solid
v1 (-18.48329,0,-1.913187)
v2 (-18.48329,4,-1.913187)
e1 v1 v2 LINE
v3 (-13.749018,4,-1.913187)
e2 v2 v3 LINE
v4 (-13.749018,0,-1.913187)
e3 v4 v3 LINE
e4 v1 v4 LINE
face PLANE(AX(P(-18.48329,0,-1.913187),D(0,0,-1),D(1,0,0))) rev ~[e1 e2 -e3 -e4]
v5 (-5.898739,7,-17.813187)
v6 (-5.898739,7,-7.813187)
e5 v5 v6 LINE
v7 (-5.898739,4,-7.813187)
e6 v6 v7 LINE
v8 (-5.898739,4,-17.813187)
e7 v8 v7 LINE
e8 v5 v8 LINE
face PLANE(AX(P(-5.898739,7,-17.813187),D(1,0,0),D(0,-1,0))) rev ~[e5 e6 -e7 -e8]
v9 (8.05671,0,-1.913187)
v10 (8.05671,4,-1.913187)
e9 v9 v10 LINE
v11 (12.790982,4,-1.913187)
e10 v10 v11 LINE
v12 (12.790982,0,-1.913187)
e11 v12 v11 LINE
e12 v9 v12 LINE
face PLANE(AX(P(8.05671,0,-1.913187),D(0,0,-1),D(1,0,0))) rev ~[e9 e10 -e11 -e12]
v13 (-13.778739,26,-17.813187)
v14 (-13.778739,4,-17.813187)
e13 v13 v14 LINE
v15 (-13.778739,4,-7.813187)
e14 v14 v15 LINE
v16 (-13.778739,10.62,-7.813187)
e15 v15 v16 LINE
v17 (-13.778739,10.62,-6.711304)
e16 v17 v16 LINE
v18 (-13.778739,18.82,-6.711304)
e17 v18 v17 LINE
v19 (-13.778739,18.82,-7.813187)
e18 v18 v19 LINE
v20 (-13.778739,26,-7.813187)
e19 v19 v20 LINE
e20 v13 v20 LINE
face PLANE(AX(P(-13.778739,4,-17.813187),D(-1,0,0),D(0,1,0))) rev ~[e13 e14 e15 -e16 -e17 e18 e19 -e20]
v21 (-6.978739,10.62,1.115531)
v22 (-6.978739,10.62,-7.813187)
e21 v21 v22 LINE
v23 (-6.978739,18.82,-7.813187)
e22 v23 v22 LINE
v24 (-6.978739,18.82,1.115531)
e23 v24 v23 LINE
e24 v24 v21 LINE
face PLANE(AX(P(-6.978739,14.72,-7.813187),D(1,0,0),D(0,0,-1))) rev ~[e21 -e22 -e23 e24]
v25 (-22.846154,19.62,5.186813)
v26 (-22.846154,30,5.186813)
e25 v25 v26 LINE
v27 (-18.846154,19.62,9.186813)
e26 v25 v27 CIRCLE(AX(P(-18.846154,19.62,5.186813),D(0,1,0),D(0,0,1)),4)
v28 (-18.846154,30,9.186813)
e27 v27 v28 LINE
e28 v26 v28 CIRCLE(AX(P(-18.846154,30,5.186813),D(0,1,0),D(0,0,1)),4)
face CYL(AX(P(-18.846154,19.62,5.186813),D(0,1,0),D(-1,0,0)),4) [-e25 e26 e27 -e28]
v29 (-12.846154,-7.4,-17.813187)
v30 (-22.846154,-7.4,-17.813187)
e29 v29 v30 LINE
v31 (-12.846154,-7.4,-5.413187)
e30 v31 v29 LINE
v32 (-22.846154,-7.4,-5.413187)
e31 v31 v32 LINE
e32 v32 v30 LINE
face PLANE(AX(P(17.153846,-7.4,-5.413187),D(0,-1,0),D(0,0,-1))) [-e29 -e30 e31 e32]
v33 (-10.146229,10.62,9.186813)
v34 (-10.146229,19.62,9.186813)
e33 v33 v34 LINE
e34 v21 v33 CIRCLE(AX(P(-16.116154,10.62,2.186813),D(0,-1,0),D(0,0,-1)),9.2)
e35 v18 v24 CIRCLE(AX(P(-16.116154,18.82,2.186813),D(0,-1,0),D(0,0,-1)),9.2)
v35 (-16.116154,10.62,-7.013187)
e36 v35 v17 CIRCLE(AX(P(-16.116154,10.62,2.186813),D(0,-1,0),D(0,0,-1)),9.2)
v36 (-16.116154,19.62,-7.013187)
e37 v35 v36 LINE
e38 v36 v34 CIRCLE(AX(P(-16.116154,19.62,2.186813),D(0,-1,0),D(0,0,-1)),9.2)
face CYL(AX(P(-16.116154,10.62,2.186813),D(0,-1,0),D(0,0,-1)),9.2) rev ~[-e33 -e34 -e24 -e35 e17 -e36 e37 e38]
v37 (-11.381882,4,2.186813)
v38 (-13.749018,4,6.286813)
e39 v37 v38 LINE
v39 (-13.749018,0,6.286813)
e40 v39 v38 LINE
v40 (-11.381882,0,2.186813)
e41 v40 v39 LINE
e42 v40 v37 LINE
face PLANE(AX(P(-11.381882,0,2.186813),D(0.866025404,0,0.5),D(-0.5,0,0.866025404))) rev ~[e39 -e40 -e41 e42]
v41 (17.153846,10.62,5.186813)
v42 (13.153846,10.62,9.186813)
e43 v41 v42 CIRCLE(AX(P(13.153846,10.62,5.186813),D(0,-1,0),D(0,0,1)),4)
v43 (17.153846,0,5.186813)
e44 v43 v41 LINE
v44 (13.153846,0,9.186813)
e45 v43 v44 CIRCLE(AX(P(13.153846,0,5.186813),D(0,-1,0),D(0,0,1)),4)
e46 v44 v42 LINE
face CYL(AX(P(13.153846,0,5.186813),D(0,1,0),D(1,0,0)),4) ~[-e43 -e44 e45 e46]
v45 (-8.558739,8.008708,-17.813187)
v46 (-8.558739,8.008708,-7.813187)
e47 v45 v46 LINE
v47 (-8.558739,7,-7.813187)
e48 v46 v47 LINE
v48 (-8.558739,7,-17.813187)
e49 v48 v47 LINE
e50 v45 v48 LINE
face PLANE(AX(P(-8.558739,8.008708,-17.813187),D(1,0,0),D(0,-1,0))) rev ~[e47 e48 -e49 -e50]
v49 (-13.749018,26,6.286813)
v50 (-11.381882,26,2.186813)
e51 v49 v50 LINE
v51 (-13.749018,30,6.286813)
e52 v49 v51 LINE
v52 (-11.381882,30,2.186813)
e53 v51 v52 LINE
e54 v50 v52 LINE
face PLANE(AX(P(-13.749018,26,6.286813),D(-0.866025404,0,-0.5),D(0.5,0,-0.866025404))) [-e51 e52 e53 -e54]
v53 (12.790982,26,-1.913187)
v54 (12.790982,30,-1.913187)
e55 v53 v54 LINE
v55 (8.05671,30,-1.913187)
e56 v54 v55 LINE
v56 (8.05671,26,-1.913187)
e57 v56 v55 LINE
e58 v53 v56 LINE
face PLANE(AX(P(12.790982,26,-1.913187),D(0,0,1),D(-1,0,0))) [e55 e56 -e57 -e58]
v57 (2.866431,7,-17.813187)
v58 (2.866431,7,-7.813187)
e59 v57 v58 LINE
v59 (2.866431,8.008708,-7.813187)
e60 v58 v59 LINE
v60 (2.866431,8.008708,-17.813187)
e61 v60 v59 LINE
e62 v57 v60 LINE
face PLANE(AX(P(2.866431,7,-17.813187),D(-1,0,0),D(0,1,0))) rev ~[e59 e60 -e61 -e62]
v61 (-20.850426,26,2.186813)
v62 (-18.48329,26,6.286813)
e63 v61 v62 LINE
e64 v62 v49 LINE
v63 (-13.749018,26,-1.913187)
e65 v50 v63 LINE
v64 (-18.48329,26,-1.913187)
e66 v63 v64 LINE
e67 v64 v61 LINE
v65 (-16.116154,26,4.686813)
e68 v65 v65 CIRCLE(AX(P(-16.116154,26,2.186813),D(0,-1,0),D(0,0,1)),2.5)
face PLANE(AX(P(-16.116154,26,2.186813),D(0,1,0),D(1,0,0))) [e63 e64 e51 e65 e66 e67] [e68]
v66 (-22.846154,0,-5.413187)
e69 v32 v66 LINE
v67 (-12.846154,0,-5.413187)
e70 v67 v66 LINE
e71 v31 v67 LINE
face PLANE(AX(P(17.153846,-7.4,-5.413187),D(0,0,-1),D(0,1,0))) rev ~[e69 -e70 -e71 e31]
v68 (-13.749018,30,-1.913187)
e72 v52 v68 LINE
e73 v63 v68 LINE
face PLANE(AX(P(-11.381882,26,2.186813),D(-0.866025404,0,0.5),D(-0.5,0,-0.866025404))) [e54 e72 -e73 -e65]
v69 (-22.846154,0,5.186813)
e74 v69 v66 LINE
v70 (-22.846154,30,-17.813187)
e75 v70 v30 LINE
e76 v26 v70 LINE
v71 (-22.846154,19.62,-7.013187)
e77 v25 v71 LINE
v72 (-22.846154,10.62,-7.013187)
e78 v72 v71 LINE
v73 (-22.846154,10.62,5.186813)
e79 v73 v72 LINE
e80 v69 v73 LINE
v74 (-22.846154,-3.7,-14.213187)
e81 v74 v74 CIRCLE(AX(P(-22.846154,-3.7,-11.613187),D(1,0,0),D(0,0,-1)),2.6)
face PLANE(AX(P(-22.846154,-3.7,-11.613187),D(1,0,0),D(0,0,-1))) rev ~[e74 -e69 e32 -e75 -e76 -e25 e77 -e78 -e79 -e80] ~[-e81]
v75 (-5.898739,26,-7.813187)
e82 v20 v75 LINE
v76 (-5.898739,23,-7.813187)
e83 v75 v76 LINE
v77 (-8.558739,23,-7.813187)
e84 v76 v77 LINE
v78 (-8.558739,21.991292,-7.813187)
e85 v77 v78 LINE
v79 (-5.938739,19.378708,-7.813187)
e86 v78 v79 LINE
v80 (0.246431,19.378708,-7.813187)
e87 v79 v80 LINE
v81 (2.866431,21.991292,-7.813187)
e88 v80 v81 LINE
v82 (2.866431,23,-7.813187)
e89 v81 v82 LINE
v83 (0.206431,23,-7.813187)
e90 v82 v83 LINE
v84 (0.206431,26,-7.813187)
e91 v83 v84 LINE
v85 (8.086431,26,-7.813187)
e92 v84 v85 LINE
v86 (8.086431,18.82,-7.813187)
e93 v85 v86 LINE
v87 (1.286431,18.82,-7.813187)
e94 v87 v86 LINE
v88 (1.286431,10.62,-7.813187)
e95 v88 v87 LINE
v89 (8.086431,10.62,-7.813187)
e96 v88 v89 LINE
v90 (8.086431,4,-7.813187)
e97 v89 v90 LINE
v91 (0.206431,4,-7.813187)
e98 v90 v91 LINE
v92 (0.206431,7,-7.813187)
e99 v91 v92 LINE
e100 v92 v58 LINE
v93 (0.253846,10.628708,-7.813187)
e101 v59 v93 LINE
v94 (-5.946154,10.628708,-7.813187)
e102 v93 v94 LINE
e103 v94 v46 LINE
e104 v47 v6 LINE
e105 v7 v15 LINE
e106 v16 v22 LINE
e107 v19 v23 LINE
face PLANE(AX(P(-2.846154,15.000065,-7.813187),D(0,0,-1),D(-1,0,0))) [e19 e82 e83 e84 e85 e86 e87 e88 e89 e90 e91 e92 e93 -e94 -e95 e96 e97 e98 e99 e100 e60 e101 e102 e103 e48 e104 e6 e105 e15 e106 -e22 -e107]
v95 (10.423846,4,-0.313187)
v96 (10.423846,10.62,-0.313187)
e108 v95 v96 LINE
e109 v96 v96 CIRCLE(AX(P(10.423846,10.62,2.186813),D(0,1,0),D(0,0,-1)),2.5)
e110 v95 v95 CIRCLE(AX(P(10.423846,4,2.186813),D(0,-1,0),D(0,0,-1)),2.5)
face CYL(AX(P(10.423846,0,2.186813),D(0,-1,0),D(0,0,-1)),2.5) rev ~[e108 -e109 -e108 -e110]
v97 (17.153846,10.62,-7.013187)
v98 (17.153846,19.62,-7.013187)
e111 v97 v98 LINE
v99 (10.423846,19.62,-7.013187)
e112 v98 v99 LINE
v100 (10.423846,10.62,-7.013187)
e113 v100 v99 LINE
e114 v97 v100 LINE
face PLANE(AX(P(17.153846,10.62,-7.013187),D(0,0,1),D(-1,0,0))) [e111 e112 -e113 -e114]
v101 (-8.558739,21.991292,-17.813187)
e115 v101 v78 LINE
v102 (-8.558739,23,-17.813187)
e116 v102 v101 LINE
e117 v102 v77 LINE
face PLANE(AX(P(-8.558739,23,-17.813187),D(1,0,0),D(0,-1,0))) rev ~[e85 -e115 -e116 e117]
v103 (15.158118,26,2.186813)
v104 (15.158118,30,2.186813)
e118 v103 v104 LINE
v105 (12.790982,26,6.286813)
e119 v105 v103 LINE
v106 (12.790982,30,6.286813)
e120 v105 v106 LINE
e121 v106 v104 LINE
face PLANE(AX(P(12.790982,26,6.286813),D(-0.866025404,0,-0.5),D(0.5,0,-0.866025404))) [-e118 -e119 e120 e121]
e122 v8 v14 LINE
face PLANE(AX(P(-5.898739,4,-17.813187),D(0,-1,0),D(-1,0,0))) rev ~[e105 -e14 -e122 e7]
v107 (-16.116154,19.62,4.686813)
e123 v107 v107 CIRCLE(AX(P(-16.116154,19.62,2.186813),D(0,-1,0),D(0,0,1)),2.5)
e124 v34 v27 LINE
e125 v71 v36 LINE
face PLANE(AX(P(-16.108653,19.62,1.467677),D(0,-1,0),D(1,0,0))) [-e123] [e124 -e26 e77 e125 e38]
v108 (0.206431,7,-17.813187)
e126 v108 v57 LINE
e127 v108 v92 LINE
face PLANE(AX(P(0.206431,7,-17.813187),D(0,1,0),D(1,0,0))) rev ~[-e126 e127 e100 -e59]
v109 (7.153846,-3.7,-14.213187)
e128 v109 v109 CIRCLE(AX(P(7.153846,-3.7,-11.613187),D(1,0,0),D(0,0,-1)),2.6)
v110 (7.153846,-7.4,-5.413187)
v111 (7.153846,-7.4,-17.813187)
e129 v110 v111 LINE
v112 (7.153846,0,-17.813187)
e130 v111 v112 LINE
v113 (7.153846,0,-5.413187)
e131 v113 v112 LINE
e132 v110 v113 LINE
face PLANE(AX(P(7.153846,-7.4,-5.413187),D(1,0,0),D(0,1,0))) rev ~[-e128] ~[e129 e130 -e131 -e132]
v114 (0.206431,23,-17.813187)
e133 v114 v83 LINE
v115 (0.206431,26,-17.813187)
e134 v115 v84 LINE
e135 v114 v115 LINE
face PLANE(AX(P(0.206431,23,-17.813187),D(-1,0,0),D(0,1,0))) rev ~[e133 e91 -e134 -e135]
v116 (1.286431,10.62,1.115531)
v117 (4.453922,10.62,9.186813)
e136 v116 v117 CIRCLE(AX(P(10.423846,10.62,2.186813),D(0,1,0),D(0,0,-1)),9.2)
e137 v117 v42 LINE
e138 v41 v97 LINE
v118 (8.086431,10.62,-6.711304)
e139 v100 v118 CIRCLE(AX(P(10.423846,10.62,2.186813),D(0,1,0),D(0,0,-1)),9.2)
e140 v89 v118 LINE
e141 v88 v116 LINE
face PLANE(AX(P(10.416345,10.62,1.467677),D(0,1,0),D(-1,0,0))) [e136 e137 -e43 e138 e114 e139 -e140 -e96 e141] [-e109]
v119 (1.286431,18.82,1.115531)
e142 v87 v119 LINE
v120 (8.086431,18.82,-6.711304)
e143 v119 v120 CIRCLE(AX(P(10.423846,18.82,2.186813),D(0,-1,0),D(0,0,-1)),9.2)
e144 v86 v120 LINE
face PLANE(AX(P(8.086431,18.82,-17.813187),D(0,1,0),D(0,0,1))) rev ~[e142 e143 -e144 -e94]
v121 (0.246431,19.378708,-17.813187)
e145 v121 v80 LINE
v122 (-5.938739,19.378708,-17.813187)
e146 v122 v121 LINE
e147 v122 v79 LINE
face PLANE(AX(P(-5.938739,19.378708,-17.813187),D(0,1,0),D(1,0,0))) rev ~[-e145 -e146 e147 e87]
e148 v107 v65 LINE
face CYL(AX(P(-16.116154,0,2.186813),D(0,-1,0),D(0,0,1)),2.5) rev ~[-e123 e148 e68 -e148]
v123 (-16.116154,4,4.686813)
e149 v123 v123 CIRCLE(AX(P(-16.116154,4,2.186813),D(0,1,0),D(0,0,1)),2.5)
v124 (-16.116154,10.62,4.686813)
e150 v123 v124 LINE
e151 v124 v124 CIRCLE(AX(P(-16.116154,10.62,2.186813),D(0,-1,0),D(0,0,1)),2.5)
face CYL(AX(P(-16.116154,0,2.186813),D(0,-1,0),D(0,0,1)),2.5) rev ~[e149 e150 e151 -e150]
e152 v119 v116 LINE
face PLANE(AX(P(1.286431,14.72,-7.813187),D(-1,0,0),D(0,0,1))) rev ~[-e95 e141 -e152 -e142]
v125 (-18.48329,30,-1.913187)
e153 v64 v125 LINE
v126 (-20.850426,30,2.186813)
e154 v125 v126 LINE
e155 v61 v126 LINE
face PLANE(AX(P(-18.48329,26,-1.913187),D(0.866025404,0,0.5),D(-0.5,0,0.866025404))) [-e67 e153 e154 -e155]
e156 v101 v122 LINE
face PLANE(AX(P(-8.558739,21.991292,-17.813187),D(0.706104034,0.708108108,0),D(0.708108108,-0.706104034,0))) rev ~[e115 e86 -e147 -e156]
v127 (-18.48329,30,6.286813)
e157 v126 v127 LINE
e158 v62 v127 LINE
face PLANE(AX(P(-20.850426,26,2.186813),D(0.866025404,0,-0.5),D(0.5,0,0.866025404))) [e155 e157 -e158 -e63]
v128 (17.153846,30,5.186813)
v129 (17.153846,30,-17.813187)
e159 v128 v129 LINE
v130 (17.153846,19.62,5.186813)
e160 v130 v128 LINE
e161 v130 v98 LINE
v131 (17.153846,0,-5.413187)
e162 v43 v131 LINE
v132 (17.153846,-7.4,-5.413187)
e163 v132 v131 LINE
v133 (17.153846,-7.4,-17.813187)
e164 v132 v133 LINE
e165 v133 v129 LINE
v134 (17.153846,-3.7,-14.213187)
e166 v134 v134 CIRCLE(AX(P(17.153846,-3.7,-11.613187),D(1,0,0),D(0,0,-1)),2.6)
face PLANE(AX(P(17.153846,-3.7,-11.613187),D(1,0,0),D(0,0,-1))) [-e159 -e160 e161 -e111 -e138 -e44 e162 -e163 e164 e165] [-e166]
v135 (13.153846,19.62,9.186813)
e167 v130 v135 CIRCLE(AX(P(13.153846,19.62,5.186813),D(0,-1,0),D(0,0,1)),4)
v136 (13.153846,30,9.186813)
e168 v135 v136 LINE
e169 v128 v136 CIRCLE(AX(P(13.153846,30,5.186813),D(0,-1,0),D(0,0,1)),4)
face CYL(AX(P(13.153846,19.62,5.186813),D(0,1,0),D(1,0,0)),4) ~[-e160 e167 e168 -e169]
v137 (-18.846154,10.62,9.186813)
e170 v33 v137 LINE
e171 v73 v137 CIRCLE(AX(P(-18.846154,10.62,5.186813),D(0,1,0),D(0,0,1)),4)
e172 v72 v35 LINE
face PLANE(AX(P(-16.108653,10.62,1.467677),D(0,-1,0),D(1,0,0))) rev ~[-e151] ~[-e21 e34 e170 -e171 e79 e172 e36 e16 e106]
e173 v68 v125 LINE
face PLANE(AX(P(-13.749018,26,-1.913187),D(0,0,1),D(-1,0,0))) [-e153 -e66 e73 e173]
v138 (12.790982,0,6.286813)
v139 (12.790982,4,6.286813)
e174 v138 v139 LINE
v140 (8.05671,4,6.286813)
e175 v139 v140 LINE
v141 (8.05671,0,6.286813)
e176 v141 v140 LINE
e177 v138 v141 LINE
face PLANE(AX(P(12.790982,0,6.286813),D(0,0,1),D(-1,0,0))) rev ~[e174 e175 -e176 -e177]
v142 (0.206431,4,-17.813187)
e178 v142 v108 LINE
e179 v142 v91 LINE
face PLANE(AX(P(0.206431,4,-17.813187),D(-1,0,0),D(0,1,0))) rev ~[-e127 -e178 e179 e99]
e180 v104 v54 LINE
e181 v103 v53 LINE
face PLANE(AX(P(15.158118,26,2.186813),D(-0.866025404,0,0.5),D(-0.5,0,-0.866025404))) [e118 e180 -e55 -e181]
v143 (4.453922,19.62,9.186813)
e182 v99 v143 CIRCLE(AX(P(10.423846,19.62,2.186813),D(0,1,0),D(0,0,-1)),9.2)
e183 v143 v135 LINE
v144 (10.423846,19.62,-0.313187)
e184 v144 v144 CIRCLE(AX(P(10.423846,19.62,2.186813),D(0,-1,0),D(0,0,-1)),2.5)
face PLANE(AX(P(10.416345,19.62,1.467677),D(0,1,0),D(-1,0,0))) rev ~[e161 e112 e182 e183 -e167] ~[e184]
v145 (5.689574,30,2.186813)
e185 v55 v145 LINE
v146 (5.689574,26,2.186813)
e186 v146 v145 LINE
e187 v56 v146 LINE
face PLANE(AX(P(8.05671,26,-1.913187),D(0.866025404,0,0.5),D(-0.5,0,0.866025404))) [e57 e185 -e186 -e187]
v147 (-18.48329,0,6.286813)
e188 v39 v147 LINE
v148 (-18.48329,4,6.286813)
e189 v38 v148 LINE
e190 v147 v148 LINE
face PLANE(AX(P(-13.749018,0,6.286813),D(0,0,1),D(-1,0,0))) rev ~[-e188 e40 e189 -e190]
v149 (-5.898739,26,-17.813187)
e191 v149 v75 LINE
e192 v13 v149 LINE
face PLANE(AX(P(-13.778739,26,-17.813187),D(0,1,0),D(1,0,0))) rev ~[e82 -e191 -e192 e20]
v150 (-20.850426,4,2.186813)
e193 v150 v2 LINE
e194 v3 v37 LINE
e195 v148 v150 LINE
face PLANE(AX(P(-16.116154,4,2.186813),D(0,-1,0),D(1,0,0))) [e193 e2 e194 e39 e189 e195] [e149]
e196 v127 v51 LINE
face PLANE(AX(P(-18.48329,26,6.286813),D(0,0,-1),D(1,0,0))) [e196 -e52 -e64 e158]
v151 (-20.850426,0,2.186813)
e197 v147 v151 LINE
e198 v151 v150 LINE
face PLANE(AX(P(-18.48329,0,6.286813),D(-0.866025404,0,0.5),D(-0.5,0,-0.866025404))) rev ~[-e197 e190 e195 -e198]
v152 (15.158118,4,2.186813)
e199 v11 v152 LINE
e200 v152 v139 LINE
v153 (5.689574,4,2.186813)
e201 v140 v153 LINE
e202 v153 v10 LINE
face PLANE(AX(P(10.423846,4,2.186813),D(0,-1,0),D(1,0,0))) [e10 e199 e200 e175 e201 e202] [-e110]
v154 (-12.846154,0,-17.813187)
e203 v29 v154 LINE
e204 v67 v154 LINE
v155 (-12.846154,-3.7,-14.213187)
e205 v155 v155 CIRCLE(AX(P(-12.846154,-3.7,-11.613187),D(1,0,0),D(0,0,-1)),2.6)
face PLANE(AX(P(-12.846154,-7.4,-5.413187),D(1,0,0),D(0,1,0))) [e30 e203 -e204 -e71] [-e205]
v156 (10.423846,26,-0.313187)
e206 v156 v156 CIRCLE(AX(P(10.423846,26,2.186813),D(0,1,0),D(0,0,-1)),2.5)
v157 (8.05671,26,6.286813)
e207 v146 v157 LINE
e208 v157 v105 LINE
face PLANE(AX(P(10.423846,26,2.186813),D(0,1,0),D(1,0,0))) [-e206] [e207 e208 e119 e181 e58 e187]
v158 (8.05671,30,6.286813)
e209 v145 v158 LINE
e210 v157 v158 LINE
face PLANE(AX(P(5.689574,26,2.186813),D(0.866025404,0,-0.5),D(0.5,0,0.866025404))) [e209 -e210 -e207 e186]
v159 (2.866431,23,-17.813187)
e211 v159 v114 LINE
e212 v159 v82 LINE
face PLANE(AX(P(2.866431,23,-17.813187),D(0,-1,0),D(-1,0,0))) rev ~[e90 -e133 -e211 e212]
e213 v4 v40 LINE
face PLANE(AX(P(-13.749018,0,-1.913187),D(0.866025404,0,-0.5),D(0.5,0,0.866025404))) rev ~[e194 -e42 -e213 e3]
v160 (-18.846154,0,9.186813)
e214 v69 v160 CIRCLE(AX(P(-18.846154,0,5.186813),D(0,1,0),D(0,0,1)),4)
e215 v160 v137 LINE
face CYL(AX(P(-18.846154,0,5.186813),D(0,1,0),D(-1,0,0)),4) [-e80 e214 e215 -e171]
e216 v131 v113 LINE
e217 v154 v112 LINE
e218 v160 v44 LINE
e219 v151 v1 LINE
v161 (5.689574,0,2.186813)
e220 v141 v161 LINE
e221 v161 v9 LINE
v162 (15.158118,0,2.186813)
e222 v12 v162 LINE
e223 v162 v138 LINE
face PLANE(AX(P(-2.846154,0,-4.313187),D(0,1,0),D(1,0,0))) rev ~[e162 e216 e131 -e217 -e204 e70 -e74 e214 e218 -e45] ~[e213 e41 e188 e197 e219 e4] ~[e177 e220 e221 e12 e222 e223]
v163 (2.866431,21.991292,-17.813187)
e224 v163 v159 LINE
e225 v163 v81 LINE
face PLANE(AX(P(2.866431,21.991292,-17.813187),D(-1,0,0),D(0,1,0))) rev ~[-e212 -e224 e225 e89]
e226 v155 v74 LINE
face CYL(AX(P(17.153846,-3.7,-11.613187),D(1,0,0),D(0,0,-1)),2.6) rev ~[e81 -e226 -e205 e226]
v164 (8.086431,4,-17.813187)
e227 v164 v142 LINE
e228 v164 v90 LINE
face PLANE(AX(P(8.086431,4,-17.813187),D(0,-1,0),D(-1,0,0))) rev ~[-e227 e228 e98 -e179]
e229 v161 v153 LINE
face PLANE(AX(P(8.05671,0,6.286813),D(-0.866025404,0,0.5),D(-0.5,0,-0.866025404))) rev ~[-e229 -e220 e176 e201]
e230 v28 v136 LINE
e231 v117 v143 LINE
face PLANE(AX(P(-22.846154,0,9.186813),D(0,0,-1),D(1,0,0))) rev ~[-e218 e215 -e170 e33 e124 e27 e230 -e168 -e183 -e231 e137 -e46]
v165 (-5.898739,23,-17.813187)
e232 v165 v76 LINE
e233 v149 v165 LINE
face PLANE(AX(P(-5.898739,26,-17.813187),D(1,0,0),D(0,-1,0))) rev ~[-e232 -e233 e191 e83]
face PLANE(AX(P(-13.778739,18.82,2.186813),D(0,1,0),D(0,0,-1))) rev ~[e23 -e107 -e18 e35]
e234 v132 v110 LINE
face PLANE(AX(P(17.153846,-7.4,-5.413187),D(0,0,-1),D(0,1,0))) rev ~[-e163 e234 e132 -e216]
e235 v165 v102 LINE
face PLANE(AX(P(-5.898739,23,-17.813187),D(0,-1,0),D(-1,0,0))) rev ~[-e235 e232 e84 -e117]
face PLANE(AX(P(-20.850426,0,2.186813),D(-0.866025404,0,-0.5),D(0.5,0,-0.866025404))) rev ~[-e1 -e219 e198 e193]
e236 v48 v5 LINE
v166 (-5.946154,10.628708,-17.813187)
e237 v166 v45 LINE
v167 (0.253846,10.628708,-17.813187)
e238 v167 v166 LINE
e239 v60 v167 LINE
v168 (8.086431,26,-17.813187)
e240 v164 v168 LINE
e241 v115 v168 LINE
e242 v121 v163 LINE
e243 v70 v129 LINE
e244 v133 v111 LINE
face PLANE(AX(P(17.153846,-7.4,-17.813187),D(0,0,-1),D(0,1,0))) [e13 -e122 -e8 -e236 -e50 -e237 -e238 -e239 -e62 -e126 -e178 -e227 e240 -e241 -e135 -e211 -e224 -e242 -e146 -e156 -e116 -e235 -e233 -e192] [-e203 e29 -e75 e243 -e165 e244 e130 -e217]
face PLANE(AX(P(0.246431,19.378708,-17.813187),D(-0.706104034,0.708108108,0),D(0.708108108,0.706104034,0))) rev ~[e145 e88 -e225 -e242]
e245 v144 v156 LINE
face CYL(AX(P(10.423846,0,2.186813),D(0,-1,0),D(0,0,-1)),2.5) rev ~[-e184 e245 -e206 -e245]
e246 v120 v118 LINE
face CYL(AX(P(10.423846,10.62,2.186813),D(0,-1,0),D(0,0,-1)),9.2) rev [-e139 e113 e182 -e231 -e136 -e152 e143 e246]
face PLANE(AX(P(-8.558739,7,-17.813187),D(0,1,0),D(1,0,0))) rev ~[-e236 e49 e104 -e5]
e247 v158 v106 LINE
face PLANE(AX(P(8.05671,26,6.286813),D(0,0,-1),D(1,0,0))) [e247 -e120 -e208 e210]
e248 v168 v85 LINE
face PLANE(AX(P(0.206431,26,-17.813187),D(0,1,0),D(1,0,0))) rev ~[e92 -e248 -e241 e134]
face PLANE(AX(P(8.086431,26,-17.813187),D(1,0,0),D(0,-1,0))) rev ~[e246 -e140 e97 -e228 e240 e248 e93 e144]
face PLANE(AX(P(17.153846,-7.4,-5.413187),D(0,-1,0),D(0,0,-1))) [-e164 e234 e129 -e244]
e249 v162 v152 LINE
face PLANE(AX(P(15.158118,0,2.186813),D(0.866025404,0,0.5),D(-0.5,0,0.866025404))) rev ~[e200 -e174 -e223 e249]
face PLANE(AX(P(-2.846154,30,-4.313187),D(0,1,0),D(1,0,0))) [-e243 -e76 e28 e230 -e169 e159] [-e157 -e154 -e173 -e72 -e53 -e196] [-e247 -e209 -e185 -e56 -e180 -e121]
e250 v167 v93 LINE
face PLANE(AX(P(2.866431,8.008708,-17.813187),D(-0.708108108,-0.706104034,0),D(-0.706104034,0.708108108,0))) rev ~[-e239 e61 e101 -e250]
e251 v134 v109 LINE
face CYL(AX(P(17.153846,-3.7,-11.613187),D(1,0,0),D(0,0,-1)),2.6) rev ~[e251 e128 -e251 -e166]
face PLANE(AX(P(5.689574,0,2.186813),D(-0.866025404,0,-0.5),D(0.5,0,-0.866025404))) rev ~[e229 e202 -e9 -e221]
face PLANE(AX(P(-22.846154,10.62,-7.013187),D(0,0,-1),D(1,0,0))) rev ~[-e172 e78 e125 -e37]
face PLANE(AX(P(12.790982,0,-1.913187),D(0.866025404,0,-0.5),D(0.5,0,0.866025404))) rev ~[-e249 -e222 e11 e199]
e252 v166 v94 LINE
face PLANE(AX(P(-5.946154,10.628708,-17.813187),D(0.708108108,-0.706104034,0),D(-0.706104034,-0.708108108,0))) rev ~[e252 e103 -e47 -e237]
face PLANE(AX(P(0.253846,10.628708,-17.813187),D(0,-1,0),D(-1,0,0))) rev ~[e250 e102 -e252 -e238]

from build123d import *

# Parameters (mm, degrees)
SKETCH1_W           = 40
SKETCH1_H           = 27
BOSS_EXTRUDE1_DEPTH = 30
CUT_EXTRUDE1_DEPTH  = 10
SKETCH3_R           = 2.5
CUT_EXTRUDE2_DEPTH  = 30
CUT_EXTRUDE5_START  = -10.62
CUT_EXTRUDE5_DEPTH  = 9
SKETCH10_W          = 20
SKETCH10_H          = 8.2
CUT_EXTRUDE7_DEPTH  = 6.8
SKETCH12_W          = 20
SKETCH12_H          = 8.2
CUT_EXTRUDE10_DEPTH = 6.8
FILLET1_R           = 4
SKETCH13_W          = 12.4
SKETCH13_H          = 7.4
SKETCH13_R          = 2.6
BOSS_EXTRUDE2_DEPTH = 40
CUT_EXTRUDE11_REACH = 42.436
SKETCH14_W          = 20
SKETCH14_H          = 7.4
CUT_EXTRUDE12_START = -4
SKETCH15_R          = 2.5
CUT_EXTRUDE12_DEPTH = 4
SKETCH16_R          = 2.5
CUT_EXTRUDE13_DEPTH = 4


with BuildPart() as part:
    # Sketch1 → Boss-Extrude1 (new body)
    with BuildSketch(Plane(origin=(0, 0, 0), x_dir=(1, 0, 0), z_dir=(0, 1, 0))):
        with Locations((-2.846153846, 4.313186813)):
            Rectangle(SKETCH1_W, SKETCH1_H)
    extrude(amount=BOSS_EXTRUDE1_DEPTH)

    # Sketch2 → Cut-Extrude1 (cut)
    with BuildSketch(Plane(origin=(0, 0, -17.813186813), x_dir=(-1, 0, 0), z_dir=(0, 0, -1))):
        Polygon((-8.086431081, 26), (-8.086431081, 4), (-0.206431081, 4), (-0.206431081, 7), (-2.866431081, 7), (-2.866431081, 8.008707537), (-0.253846154, 10.628707537), (5.946153846, 10.628707537), (8.558738773, 8.008707537), (8.558738773, 7), (5.898738773, 7), (5.898738773, 4), (13.778738773, 4), (13.778738773, 26), (5.898738773, 26), (5.898738773, 23), (8.558738773, 23), (8.558738773, 21.991292463), (5.938738773, 19.378707537), (-0.246431081, 19.378707537), (-2.866431081, 21.991292463), (-2.866431081, 23), (-0.206431081, 23), (-0.206431081, 26), align=None)
    extrude(amount=-CUT_EXTRUDE1_DEPTH, mode=Mode.SUBTRACT)

    # Sketch3 → Cut-Extrude2 (cut)
    with BuildSketch(Plane.XZ):
        with Locations(Location((10.423846154, 2.186813187, 0), (0, 0, 270))):
            Circle(SKETCH3_R)
        with Locations(Location((-16.116153846, 2.186813187, 0), (0, 0, 90))):
            Circle(SKETCH3_R)
    extrude(amount=-CUT_EXTRUDE2_DEPTH, mode=Mode.SUBTRACT)

    # Sketch8 → Cut-Extrude5 (cut)
    with BuildSketch(Plane.XZ.offset(CUT_EXTRUDE5_START)):
        with BuildLine():
            Line((4.453921531, 9.186813187), (17.153846154, 9.186813187))
            Line((17.153846154, 9.186813187), (17.153846154, -7.013186813))
            Line((17.153846154, -7.013186813), (10.423846154, -7.013186813))
            ThreePointArc((10.423846154, -7.013186813), (1.791349412, -0.994381557), (4.453921531, 9.186813187))
        make_face()
        with BuildLine():
            Line((-22.846153846, -7.013186813), (-16.116153846, -7.013186813))
            ThreePointArc((-16.116153846, -7.013186813), (-7.483657104, -0.994381557), (-10.146229224, 9.186813187))
            Line((-10.146229224, 9.186813187), (-22.846153846, 9.186813187))
            Line((-22.846153846, 9.186813187), (-22.846153846, -7.013186813))
        make_face()
    extrude(amount=-CUT_EXTRUDE5_DEPTH, mode=Mode.SUBTRACT)

    # Sketch10 → Cut-Extrude7 (cut)
    with BuildSketch(Plane.ZY.offset(-8.086431081)):
        with Locations((-7.813186813, 14.72)):
            Rectangle(SKETCH10_W, SKETCH10_H)
    extrude(amount=CUT_EXTRUDE7_DEPTH, mode=Mode.SUBTRACT)

    # Sketch12 → Cut-Extrude10 (cut)
    with BuildSketch(Plane(origin=(-13.778738773, 0, 0), x_dir=(0, 0, -1), z_dir=(1, 0, 0))):
        with Locations((7.813186813, 14.72)):
            Rectangle(SKETCH12_W, SKETCH12_H)
    extrude(amount=CUT_EXTRUDE10_DEPTH, mode=Mode.SUBTRACT)

    # Fillet1
    fillet1_edges = [part.edges().sort_by_distance(p)[0] for p in [
        (17.153846154, 24.81, 9.186813187),
        (-22.846153846, 24.81, 9.186813187),
        (17.153846154, 5.31, 9.186813187),
        (-22.846153846, 5.31, 9.186813187),
    ]]
    fillet(fillet1_edges, radius=FILLET1_R)

    # Sketch13 → Boss-Extrude2 (add)
    with BuildSketch(Plane(origin=(17.153846154, 0, 0), x_dir=(0, 0, -1), z_dir=(1, 0, 0))):
        with Locations((11.613186813, -3.7)):
            Rectangle(SKETCH13_W, SKETCH13_H)
        with Locations((11.613186813, -3.7)):
            Circle(SKETCH13_R, mode=Mode.SUBTRACT)
    extrude(amount=-BOSS_EXTRUDE2_DEPTH)

    # Sketch14 → Cut-Extrude11 (cut, up to next)
    with BuildSketch(Plane.XY.offset(-5.413186813), mode=Mode.PRIVATE) as cut_extrude11_sk1:
        with Locations((-2.846153846, -3.7)):
            Rectangle(SKETCH14_W, SKETCH14_H)
    cut_extrude11_tool1 = extrude(cut_extrude11_sk1.sketch, amount=-CUT_EXTRUDE11_REACH, mode=Mode.PRIVATE) & part.part
    add(cut_extrude11_tool1.solids().sort_by_distance((-2.846154, -3.7, -5.413187))[0], mode=Mode.SUBTRACT)

    # Sketch15 → Cut-Extrude12 (cut)
    # profile 1 of 2: a face of its own
    with BuildSketch(Plane(origin=(0, 30, 0), x_dir=(1, 0, 0), z_dir=(0, 1, 0)).offset(CUT_EXTRUDE12_START)):
        Polygon((12.790982258, -6.286813187), (15.158118361, -2.186813187), (12.790982258, 1.913186813), (8.05671005, 1.913186813), (5.689573946, -2.186813187), (8.05671005, -6.286813187), align=None)
        with Locations(Location((10.423846154, -2.186813187, 0), (0, 0, 90))):
            Circle(SKETCH15_R, mode=Mode.SUBTRACT)
    # profile 2 of 2: a face of its own
    with BuildSketch(Plane(origin=(0, 30, 0), x_dir=(1, 0, 0), z_dir=(0, 1, 0)).offset(CUT_EXTRUDE12_START)):
        Polygon((-13.749017742, -6.286813187), (-11.381881639, -2.186813187), (-13.749017742, 1.913186813), (-18.48328995, 1.913186813), (-20.850426054, -2.186813187), (-18.48328995, -6.286813187), align=None)
        with Locations(Location((-16.116153846, -2.186813187, 0), (0, 0, 90))):
            Circle(SKETCH15_R, mode=Mode.SUBTRACT)
    extrude(amount=CUT_EXTRUDE12_DEPTH, mode=Mode.SUBTRACT)

    # Sketch16 → Cut-Extrude13 (cut)
    # profile 1 of 2: a face of its own
    with BuildSketch(Plane.XZ):
        Polygon((-13.749017742, -1.913186813), (-11.381881639, 2.186813187), (-13.749017742, 6.286813187), (-18.48328995, 6.286813187), (-20.850426054, 2.186813187), (-18.48328995, -1.913186813), align=None)
        with Locations(Location((-16.116153846, 2.186813187, 0), (0, 0, 270))):
            Circle(SKETCH16_R, mode=Mode.SUBTRACT)
    # profile 2 of 2: a face of its own
    with BuildSketch(Plane.XZ):
        Polygon((12.790982258, -1.913186813), (15.158118361, 2.186813187), (12.790982258, 6.286813187), (8.05671005, 6.286813187), (5.689573946, 2.186813187), (8.05671005, -1.913186813), align=None)
        with Locations(Location((10.423846154, 2.186813187, 0), (0, 0, 270))):
            Circle(SKETCH16_R, mode=Mode.SUBTRACT)
    extrude(amount=-CUT_EXTRUDE13_DEPTH, mode=Mode.SUBTRACT)


solid = part.part
